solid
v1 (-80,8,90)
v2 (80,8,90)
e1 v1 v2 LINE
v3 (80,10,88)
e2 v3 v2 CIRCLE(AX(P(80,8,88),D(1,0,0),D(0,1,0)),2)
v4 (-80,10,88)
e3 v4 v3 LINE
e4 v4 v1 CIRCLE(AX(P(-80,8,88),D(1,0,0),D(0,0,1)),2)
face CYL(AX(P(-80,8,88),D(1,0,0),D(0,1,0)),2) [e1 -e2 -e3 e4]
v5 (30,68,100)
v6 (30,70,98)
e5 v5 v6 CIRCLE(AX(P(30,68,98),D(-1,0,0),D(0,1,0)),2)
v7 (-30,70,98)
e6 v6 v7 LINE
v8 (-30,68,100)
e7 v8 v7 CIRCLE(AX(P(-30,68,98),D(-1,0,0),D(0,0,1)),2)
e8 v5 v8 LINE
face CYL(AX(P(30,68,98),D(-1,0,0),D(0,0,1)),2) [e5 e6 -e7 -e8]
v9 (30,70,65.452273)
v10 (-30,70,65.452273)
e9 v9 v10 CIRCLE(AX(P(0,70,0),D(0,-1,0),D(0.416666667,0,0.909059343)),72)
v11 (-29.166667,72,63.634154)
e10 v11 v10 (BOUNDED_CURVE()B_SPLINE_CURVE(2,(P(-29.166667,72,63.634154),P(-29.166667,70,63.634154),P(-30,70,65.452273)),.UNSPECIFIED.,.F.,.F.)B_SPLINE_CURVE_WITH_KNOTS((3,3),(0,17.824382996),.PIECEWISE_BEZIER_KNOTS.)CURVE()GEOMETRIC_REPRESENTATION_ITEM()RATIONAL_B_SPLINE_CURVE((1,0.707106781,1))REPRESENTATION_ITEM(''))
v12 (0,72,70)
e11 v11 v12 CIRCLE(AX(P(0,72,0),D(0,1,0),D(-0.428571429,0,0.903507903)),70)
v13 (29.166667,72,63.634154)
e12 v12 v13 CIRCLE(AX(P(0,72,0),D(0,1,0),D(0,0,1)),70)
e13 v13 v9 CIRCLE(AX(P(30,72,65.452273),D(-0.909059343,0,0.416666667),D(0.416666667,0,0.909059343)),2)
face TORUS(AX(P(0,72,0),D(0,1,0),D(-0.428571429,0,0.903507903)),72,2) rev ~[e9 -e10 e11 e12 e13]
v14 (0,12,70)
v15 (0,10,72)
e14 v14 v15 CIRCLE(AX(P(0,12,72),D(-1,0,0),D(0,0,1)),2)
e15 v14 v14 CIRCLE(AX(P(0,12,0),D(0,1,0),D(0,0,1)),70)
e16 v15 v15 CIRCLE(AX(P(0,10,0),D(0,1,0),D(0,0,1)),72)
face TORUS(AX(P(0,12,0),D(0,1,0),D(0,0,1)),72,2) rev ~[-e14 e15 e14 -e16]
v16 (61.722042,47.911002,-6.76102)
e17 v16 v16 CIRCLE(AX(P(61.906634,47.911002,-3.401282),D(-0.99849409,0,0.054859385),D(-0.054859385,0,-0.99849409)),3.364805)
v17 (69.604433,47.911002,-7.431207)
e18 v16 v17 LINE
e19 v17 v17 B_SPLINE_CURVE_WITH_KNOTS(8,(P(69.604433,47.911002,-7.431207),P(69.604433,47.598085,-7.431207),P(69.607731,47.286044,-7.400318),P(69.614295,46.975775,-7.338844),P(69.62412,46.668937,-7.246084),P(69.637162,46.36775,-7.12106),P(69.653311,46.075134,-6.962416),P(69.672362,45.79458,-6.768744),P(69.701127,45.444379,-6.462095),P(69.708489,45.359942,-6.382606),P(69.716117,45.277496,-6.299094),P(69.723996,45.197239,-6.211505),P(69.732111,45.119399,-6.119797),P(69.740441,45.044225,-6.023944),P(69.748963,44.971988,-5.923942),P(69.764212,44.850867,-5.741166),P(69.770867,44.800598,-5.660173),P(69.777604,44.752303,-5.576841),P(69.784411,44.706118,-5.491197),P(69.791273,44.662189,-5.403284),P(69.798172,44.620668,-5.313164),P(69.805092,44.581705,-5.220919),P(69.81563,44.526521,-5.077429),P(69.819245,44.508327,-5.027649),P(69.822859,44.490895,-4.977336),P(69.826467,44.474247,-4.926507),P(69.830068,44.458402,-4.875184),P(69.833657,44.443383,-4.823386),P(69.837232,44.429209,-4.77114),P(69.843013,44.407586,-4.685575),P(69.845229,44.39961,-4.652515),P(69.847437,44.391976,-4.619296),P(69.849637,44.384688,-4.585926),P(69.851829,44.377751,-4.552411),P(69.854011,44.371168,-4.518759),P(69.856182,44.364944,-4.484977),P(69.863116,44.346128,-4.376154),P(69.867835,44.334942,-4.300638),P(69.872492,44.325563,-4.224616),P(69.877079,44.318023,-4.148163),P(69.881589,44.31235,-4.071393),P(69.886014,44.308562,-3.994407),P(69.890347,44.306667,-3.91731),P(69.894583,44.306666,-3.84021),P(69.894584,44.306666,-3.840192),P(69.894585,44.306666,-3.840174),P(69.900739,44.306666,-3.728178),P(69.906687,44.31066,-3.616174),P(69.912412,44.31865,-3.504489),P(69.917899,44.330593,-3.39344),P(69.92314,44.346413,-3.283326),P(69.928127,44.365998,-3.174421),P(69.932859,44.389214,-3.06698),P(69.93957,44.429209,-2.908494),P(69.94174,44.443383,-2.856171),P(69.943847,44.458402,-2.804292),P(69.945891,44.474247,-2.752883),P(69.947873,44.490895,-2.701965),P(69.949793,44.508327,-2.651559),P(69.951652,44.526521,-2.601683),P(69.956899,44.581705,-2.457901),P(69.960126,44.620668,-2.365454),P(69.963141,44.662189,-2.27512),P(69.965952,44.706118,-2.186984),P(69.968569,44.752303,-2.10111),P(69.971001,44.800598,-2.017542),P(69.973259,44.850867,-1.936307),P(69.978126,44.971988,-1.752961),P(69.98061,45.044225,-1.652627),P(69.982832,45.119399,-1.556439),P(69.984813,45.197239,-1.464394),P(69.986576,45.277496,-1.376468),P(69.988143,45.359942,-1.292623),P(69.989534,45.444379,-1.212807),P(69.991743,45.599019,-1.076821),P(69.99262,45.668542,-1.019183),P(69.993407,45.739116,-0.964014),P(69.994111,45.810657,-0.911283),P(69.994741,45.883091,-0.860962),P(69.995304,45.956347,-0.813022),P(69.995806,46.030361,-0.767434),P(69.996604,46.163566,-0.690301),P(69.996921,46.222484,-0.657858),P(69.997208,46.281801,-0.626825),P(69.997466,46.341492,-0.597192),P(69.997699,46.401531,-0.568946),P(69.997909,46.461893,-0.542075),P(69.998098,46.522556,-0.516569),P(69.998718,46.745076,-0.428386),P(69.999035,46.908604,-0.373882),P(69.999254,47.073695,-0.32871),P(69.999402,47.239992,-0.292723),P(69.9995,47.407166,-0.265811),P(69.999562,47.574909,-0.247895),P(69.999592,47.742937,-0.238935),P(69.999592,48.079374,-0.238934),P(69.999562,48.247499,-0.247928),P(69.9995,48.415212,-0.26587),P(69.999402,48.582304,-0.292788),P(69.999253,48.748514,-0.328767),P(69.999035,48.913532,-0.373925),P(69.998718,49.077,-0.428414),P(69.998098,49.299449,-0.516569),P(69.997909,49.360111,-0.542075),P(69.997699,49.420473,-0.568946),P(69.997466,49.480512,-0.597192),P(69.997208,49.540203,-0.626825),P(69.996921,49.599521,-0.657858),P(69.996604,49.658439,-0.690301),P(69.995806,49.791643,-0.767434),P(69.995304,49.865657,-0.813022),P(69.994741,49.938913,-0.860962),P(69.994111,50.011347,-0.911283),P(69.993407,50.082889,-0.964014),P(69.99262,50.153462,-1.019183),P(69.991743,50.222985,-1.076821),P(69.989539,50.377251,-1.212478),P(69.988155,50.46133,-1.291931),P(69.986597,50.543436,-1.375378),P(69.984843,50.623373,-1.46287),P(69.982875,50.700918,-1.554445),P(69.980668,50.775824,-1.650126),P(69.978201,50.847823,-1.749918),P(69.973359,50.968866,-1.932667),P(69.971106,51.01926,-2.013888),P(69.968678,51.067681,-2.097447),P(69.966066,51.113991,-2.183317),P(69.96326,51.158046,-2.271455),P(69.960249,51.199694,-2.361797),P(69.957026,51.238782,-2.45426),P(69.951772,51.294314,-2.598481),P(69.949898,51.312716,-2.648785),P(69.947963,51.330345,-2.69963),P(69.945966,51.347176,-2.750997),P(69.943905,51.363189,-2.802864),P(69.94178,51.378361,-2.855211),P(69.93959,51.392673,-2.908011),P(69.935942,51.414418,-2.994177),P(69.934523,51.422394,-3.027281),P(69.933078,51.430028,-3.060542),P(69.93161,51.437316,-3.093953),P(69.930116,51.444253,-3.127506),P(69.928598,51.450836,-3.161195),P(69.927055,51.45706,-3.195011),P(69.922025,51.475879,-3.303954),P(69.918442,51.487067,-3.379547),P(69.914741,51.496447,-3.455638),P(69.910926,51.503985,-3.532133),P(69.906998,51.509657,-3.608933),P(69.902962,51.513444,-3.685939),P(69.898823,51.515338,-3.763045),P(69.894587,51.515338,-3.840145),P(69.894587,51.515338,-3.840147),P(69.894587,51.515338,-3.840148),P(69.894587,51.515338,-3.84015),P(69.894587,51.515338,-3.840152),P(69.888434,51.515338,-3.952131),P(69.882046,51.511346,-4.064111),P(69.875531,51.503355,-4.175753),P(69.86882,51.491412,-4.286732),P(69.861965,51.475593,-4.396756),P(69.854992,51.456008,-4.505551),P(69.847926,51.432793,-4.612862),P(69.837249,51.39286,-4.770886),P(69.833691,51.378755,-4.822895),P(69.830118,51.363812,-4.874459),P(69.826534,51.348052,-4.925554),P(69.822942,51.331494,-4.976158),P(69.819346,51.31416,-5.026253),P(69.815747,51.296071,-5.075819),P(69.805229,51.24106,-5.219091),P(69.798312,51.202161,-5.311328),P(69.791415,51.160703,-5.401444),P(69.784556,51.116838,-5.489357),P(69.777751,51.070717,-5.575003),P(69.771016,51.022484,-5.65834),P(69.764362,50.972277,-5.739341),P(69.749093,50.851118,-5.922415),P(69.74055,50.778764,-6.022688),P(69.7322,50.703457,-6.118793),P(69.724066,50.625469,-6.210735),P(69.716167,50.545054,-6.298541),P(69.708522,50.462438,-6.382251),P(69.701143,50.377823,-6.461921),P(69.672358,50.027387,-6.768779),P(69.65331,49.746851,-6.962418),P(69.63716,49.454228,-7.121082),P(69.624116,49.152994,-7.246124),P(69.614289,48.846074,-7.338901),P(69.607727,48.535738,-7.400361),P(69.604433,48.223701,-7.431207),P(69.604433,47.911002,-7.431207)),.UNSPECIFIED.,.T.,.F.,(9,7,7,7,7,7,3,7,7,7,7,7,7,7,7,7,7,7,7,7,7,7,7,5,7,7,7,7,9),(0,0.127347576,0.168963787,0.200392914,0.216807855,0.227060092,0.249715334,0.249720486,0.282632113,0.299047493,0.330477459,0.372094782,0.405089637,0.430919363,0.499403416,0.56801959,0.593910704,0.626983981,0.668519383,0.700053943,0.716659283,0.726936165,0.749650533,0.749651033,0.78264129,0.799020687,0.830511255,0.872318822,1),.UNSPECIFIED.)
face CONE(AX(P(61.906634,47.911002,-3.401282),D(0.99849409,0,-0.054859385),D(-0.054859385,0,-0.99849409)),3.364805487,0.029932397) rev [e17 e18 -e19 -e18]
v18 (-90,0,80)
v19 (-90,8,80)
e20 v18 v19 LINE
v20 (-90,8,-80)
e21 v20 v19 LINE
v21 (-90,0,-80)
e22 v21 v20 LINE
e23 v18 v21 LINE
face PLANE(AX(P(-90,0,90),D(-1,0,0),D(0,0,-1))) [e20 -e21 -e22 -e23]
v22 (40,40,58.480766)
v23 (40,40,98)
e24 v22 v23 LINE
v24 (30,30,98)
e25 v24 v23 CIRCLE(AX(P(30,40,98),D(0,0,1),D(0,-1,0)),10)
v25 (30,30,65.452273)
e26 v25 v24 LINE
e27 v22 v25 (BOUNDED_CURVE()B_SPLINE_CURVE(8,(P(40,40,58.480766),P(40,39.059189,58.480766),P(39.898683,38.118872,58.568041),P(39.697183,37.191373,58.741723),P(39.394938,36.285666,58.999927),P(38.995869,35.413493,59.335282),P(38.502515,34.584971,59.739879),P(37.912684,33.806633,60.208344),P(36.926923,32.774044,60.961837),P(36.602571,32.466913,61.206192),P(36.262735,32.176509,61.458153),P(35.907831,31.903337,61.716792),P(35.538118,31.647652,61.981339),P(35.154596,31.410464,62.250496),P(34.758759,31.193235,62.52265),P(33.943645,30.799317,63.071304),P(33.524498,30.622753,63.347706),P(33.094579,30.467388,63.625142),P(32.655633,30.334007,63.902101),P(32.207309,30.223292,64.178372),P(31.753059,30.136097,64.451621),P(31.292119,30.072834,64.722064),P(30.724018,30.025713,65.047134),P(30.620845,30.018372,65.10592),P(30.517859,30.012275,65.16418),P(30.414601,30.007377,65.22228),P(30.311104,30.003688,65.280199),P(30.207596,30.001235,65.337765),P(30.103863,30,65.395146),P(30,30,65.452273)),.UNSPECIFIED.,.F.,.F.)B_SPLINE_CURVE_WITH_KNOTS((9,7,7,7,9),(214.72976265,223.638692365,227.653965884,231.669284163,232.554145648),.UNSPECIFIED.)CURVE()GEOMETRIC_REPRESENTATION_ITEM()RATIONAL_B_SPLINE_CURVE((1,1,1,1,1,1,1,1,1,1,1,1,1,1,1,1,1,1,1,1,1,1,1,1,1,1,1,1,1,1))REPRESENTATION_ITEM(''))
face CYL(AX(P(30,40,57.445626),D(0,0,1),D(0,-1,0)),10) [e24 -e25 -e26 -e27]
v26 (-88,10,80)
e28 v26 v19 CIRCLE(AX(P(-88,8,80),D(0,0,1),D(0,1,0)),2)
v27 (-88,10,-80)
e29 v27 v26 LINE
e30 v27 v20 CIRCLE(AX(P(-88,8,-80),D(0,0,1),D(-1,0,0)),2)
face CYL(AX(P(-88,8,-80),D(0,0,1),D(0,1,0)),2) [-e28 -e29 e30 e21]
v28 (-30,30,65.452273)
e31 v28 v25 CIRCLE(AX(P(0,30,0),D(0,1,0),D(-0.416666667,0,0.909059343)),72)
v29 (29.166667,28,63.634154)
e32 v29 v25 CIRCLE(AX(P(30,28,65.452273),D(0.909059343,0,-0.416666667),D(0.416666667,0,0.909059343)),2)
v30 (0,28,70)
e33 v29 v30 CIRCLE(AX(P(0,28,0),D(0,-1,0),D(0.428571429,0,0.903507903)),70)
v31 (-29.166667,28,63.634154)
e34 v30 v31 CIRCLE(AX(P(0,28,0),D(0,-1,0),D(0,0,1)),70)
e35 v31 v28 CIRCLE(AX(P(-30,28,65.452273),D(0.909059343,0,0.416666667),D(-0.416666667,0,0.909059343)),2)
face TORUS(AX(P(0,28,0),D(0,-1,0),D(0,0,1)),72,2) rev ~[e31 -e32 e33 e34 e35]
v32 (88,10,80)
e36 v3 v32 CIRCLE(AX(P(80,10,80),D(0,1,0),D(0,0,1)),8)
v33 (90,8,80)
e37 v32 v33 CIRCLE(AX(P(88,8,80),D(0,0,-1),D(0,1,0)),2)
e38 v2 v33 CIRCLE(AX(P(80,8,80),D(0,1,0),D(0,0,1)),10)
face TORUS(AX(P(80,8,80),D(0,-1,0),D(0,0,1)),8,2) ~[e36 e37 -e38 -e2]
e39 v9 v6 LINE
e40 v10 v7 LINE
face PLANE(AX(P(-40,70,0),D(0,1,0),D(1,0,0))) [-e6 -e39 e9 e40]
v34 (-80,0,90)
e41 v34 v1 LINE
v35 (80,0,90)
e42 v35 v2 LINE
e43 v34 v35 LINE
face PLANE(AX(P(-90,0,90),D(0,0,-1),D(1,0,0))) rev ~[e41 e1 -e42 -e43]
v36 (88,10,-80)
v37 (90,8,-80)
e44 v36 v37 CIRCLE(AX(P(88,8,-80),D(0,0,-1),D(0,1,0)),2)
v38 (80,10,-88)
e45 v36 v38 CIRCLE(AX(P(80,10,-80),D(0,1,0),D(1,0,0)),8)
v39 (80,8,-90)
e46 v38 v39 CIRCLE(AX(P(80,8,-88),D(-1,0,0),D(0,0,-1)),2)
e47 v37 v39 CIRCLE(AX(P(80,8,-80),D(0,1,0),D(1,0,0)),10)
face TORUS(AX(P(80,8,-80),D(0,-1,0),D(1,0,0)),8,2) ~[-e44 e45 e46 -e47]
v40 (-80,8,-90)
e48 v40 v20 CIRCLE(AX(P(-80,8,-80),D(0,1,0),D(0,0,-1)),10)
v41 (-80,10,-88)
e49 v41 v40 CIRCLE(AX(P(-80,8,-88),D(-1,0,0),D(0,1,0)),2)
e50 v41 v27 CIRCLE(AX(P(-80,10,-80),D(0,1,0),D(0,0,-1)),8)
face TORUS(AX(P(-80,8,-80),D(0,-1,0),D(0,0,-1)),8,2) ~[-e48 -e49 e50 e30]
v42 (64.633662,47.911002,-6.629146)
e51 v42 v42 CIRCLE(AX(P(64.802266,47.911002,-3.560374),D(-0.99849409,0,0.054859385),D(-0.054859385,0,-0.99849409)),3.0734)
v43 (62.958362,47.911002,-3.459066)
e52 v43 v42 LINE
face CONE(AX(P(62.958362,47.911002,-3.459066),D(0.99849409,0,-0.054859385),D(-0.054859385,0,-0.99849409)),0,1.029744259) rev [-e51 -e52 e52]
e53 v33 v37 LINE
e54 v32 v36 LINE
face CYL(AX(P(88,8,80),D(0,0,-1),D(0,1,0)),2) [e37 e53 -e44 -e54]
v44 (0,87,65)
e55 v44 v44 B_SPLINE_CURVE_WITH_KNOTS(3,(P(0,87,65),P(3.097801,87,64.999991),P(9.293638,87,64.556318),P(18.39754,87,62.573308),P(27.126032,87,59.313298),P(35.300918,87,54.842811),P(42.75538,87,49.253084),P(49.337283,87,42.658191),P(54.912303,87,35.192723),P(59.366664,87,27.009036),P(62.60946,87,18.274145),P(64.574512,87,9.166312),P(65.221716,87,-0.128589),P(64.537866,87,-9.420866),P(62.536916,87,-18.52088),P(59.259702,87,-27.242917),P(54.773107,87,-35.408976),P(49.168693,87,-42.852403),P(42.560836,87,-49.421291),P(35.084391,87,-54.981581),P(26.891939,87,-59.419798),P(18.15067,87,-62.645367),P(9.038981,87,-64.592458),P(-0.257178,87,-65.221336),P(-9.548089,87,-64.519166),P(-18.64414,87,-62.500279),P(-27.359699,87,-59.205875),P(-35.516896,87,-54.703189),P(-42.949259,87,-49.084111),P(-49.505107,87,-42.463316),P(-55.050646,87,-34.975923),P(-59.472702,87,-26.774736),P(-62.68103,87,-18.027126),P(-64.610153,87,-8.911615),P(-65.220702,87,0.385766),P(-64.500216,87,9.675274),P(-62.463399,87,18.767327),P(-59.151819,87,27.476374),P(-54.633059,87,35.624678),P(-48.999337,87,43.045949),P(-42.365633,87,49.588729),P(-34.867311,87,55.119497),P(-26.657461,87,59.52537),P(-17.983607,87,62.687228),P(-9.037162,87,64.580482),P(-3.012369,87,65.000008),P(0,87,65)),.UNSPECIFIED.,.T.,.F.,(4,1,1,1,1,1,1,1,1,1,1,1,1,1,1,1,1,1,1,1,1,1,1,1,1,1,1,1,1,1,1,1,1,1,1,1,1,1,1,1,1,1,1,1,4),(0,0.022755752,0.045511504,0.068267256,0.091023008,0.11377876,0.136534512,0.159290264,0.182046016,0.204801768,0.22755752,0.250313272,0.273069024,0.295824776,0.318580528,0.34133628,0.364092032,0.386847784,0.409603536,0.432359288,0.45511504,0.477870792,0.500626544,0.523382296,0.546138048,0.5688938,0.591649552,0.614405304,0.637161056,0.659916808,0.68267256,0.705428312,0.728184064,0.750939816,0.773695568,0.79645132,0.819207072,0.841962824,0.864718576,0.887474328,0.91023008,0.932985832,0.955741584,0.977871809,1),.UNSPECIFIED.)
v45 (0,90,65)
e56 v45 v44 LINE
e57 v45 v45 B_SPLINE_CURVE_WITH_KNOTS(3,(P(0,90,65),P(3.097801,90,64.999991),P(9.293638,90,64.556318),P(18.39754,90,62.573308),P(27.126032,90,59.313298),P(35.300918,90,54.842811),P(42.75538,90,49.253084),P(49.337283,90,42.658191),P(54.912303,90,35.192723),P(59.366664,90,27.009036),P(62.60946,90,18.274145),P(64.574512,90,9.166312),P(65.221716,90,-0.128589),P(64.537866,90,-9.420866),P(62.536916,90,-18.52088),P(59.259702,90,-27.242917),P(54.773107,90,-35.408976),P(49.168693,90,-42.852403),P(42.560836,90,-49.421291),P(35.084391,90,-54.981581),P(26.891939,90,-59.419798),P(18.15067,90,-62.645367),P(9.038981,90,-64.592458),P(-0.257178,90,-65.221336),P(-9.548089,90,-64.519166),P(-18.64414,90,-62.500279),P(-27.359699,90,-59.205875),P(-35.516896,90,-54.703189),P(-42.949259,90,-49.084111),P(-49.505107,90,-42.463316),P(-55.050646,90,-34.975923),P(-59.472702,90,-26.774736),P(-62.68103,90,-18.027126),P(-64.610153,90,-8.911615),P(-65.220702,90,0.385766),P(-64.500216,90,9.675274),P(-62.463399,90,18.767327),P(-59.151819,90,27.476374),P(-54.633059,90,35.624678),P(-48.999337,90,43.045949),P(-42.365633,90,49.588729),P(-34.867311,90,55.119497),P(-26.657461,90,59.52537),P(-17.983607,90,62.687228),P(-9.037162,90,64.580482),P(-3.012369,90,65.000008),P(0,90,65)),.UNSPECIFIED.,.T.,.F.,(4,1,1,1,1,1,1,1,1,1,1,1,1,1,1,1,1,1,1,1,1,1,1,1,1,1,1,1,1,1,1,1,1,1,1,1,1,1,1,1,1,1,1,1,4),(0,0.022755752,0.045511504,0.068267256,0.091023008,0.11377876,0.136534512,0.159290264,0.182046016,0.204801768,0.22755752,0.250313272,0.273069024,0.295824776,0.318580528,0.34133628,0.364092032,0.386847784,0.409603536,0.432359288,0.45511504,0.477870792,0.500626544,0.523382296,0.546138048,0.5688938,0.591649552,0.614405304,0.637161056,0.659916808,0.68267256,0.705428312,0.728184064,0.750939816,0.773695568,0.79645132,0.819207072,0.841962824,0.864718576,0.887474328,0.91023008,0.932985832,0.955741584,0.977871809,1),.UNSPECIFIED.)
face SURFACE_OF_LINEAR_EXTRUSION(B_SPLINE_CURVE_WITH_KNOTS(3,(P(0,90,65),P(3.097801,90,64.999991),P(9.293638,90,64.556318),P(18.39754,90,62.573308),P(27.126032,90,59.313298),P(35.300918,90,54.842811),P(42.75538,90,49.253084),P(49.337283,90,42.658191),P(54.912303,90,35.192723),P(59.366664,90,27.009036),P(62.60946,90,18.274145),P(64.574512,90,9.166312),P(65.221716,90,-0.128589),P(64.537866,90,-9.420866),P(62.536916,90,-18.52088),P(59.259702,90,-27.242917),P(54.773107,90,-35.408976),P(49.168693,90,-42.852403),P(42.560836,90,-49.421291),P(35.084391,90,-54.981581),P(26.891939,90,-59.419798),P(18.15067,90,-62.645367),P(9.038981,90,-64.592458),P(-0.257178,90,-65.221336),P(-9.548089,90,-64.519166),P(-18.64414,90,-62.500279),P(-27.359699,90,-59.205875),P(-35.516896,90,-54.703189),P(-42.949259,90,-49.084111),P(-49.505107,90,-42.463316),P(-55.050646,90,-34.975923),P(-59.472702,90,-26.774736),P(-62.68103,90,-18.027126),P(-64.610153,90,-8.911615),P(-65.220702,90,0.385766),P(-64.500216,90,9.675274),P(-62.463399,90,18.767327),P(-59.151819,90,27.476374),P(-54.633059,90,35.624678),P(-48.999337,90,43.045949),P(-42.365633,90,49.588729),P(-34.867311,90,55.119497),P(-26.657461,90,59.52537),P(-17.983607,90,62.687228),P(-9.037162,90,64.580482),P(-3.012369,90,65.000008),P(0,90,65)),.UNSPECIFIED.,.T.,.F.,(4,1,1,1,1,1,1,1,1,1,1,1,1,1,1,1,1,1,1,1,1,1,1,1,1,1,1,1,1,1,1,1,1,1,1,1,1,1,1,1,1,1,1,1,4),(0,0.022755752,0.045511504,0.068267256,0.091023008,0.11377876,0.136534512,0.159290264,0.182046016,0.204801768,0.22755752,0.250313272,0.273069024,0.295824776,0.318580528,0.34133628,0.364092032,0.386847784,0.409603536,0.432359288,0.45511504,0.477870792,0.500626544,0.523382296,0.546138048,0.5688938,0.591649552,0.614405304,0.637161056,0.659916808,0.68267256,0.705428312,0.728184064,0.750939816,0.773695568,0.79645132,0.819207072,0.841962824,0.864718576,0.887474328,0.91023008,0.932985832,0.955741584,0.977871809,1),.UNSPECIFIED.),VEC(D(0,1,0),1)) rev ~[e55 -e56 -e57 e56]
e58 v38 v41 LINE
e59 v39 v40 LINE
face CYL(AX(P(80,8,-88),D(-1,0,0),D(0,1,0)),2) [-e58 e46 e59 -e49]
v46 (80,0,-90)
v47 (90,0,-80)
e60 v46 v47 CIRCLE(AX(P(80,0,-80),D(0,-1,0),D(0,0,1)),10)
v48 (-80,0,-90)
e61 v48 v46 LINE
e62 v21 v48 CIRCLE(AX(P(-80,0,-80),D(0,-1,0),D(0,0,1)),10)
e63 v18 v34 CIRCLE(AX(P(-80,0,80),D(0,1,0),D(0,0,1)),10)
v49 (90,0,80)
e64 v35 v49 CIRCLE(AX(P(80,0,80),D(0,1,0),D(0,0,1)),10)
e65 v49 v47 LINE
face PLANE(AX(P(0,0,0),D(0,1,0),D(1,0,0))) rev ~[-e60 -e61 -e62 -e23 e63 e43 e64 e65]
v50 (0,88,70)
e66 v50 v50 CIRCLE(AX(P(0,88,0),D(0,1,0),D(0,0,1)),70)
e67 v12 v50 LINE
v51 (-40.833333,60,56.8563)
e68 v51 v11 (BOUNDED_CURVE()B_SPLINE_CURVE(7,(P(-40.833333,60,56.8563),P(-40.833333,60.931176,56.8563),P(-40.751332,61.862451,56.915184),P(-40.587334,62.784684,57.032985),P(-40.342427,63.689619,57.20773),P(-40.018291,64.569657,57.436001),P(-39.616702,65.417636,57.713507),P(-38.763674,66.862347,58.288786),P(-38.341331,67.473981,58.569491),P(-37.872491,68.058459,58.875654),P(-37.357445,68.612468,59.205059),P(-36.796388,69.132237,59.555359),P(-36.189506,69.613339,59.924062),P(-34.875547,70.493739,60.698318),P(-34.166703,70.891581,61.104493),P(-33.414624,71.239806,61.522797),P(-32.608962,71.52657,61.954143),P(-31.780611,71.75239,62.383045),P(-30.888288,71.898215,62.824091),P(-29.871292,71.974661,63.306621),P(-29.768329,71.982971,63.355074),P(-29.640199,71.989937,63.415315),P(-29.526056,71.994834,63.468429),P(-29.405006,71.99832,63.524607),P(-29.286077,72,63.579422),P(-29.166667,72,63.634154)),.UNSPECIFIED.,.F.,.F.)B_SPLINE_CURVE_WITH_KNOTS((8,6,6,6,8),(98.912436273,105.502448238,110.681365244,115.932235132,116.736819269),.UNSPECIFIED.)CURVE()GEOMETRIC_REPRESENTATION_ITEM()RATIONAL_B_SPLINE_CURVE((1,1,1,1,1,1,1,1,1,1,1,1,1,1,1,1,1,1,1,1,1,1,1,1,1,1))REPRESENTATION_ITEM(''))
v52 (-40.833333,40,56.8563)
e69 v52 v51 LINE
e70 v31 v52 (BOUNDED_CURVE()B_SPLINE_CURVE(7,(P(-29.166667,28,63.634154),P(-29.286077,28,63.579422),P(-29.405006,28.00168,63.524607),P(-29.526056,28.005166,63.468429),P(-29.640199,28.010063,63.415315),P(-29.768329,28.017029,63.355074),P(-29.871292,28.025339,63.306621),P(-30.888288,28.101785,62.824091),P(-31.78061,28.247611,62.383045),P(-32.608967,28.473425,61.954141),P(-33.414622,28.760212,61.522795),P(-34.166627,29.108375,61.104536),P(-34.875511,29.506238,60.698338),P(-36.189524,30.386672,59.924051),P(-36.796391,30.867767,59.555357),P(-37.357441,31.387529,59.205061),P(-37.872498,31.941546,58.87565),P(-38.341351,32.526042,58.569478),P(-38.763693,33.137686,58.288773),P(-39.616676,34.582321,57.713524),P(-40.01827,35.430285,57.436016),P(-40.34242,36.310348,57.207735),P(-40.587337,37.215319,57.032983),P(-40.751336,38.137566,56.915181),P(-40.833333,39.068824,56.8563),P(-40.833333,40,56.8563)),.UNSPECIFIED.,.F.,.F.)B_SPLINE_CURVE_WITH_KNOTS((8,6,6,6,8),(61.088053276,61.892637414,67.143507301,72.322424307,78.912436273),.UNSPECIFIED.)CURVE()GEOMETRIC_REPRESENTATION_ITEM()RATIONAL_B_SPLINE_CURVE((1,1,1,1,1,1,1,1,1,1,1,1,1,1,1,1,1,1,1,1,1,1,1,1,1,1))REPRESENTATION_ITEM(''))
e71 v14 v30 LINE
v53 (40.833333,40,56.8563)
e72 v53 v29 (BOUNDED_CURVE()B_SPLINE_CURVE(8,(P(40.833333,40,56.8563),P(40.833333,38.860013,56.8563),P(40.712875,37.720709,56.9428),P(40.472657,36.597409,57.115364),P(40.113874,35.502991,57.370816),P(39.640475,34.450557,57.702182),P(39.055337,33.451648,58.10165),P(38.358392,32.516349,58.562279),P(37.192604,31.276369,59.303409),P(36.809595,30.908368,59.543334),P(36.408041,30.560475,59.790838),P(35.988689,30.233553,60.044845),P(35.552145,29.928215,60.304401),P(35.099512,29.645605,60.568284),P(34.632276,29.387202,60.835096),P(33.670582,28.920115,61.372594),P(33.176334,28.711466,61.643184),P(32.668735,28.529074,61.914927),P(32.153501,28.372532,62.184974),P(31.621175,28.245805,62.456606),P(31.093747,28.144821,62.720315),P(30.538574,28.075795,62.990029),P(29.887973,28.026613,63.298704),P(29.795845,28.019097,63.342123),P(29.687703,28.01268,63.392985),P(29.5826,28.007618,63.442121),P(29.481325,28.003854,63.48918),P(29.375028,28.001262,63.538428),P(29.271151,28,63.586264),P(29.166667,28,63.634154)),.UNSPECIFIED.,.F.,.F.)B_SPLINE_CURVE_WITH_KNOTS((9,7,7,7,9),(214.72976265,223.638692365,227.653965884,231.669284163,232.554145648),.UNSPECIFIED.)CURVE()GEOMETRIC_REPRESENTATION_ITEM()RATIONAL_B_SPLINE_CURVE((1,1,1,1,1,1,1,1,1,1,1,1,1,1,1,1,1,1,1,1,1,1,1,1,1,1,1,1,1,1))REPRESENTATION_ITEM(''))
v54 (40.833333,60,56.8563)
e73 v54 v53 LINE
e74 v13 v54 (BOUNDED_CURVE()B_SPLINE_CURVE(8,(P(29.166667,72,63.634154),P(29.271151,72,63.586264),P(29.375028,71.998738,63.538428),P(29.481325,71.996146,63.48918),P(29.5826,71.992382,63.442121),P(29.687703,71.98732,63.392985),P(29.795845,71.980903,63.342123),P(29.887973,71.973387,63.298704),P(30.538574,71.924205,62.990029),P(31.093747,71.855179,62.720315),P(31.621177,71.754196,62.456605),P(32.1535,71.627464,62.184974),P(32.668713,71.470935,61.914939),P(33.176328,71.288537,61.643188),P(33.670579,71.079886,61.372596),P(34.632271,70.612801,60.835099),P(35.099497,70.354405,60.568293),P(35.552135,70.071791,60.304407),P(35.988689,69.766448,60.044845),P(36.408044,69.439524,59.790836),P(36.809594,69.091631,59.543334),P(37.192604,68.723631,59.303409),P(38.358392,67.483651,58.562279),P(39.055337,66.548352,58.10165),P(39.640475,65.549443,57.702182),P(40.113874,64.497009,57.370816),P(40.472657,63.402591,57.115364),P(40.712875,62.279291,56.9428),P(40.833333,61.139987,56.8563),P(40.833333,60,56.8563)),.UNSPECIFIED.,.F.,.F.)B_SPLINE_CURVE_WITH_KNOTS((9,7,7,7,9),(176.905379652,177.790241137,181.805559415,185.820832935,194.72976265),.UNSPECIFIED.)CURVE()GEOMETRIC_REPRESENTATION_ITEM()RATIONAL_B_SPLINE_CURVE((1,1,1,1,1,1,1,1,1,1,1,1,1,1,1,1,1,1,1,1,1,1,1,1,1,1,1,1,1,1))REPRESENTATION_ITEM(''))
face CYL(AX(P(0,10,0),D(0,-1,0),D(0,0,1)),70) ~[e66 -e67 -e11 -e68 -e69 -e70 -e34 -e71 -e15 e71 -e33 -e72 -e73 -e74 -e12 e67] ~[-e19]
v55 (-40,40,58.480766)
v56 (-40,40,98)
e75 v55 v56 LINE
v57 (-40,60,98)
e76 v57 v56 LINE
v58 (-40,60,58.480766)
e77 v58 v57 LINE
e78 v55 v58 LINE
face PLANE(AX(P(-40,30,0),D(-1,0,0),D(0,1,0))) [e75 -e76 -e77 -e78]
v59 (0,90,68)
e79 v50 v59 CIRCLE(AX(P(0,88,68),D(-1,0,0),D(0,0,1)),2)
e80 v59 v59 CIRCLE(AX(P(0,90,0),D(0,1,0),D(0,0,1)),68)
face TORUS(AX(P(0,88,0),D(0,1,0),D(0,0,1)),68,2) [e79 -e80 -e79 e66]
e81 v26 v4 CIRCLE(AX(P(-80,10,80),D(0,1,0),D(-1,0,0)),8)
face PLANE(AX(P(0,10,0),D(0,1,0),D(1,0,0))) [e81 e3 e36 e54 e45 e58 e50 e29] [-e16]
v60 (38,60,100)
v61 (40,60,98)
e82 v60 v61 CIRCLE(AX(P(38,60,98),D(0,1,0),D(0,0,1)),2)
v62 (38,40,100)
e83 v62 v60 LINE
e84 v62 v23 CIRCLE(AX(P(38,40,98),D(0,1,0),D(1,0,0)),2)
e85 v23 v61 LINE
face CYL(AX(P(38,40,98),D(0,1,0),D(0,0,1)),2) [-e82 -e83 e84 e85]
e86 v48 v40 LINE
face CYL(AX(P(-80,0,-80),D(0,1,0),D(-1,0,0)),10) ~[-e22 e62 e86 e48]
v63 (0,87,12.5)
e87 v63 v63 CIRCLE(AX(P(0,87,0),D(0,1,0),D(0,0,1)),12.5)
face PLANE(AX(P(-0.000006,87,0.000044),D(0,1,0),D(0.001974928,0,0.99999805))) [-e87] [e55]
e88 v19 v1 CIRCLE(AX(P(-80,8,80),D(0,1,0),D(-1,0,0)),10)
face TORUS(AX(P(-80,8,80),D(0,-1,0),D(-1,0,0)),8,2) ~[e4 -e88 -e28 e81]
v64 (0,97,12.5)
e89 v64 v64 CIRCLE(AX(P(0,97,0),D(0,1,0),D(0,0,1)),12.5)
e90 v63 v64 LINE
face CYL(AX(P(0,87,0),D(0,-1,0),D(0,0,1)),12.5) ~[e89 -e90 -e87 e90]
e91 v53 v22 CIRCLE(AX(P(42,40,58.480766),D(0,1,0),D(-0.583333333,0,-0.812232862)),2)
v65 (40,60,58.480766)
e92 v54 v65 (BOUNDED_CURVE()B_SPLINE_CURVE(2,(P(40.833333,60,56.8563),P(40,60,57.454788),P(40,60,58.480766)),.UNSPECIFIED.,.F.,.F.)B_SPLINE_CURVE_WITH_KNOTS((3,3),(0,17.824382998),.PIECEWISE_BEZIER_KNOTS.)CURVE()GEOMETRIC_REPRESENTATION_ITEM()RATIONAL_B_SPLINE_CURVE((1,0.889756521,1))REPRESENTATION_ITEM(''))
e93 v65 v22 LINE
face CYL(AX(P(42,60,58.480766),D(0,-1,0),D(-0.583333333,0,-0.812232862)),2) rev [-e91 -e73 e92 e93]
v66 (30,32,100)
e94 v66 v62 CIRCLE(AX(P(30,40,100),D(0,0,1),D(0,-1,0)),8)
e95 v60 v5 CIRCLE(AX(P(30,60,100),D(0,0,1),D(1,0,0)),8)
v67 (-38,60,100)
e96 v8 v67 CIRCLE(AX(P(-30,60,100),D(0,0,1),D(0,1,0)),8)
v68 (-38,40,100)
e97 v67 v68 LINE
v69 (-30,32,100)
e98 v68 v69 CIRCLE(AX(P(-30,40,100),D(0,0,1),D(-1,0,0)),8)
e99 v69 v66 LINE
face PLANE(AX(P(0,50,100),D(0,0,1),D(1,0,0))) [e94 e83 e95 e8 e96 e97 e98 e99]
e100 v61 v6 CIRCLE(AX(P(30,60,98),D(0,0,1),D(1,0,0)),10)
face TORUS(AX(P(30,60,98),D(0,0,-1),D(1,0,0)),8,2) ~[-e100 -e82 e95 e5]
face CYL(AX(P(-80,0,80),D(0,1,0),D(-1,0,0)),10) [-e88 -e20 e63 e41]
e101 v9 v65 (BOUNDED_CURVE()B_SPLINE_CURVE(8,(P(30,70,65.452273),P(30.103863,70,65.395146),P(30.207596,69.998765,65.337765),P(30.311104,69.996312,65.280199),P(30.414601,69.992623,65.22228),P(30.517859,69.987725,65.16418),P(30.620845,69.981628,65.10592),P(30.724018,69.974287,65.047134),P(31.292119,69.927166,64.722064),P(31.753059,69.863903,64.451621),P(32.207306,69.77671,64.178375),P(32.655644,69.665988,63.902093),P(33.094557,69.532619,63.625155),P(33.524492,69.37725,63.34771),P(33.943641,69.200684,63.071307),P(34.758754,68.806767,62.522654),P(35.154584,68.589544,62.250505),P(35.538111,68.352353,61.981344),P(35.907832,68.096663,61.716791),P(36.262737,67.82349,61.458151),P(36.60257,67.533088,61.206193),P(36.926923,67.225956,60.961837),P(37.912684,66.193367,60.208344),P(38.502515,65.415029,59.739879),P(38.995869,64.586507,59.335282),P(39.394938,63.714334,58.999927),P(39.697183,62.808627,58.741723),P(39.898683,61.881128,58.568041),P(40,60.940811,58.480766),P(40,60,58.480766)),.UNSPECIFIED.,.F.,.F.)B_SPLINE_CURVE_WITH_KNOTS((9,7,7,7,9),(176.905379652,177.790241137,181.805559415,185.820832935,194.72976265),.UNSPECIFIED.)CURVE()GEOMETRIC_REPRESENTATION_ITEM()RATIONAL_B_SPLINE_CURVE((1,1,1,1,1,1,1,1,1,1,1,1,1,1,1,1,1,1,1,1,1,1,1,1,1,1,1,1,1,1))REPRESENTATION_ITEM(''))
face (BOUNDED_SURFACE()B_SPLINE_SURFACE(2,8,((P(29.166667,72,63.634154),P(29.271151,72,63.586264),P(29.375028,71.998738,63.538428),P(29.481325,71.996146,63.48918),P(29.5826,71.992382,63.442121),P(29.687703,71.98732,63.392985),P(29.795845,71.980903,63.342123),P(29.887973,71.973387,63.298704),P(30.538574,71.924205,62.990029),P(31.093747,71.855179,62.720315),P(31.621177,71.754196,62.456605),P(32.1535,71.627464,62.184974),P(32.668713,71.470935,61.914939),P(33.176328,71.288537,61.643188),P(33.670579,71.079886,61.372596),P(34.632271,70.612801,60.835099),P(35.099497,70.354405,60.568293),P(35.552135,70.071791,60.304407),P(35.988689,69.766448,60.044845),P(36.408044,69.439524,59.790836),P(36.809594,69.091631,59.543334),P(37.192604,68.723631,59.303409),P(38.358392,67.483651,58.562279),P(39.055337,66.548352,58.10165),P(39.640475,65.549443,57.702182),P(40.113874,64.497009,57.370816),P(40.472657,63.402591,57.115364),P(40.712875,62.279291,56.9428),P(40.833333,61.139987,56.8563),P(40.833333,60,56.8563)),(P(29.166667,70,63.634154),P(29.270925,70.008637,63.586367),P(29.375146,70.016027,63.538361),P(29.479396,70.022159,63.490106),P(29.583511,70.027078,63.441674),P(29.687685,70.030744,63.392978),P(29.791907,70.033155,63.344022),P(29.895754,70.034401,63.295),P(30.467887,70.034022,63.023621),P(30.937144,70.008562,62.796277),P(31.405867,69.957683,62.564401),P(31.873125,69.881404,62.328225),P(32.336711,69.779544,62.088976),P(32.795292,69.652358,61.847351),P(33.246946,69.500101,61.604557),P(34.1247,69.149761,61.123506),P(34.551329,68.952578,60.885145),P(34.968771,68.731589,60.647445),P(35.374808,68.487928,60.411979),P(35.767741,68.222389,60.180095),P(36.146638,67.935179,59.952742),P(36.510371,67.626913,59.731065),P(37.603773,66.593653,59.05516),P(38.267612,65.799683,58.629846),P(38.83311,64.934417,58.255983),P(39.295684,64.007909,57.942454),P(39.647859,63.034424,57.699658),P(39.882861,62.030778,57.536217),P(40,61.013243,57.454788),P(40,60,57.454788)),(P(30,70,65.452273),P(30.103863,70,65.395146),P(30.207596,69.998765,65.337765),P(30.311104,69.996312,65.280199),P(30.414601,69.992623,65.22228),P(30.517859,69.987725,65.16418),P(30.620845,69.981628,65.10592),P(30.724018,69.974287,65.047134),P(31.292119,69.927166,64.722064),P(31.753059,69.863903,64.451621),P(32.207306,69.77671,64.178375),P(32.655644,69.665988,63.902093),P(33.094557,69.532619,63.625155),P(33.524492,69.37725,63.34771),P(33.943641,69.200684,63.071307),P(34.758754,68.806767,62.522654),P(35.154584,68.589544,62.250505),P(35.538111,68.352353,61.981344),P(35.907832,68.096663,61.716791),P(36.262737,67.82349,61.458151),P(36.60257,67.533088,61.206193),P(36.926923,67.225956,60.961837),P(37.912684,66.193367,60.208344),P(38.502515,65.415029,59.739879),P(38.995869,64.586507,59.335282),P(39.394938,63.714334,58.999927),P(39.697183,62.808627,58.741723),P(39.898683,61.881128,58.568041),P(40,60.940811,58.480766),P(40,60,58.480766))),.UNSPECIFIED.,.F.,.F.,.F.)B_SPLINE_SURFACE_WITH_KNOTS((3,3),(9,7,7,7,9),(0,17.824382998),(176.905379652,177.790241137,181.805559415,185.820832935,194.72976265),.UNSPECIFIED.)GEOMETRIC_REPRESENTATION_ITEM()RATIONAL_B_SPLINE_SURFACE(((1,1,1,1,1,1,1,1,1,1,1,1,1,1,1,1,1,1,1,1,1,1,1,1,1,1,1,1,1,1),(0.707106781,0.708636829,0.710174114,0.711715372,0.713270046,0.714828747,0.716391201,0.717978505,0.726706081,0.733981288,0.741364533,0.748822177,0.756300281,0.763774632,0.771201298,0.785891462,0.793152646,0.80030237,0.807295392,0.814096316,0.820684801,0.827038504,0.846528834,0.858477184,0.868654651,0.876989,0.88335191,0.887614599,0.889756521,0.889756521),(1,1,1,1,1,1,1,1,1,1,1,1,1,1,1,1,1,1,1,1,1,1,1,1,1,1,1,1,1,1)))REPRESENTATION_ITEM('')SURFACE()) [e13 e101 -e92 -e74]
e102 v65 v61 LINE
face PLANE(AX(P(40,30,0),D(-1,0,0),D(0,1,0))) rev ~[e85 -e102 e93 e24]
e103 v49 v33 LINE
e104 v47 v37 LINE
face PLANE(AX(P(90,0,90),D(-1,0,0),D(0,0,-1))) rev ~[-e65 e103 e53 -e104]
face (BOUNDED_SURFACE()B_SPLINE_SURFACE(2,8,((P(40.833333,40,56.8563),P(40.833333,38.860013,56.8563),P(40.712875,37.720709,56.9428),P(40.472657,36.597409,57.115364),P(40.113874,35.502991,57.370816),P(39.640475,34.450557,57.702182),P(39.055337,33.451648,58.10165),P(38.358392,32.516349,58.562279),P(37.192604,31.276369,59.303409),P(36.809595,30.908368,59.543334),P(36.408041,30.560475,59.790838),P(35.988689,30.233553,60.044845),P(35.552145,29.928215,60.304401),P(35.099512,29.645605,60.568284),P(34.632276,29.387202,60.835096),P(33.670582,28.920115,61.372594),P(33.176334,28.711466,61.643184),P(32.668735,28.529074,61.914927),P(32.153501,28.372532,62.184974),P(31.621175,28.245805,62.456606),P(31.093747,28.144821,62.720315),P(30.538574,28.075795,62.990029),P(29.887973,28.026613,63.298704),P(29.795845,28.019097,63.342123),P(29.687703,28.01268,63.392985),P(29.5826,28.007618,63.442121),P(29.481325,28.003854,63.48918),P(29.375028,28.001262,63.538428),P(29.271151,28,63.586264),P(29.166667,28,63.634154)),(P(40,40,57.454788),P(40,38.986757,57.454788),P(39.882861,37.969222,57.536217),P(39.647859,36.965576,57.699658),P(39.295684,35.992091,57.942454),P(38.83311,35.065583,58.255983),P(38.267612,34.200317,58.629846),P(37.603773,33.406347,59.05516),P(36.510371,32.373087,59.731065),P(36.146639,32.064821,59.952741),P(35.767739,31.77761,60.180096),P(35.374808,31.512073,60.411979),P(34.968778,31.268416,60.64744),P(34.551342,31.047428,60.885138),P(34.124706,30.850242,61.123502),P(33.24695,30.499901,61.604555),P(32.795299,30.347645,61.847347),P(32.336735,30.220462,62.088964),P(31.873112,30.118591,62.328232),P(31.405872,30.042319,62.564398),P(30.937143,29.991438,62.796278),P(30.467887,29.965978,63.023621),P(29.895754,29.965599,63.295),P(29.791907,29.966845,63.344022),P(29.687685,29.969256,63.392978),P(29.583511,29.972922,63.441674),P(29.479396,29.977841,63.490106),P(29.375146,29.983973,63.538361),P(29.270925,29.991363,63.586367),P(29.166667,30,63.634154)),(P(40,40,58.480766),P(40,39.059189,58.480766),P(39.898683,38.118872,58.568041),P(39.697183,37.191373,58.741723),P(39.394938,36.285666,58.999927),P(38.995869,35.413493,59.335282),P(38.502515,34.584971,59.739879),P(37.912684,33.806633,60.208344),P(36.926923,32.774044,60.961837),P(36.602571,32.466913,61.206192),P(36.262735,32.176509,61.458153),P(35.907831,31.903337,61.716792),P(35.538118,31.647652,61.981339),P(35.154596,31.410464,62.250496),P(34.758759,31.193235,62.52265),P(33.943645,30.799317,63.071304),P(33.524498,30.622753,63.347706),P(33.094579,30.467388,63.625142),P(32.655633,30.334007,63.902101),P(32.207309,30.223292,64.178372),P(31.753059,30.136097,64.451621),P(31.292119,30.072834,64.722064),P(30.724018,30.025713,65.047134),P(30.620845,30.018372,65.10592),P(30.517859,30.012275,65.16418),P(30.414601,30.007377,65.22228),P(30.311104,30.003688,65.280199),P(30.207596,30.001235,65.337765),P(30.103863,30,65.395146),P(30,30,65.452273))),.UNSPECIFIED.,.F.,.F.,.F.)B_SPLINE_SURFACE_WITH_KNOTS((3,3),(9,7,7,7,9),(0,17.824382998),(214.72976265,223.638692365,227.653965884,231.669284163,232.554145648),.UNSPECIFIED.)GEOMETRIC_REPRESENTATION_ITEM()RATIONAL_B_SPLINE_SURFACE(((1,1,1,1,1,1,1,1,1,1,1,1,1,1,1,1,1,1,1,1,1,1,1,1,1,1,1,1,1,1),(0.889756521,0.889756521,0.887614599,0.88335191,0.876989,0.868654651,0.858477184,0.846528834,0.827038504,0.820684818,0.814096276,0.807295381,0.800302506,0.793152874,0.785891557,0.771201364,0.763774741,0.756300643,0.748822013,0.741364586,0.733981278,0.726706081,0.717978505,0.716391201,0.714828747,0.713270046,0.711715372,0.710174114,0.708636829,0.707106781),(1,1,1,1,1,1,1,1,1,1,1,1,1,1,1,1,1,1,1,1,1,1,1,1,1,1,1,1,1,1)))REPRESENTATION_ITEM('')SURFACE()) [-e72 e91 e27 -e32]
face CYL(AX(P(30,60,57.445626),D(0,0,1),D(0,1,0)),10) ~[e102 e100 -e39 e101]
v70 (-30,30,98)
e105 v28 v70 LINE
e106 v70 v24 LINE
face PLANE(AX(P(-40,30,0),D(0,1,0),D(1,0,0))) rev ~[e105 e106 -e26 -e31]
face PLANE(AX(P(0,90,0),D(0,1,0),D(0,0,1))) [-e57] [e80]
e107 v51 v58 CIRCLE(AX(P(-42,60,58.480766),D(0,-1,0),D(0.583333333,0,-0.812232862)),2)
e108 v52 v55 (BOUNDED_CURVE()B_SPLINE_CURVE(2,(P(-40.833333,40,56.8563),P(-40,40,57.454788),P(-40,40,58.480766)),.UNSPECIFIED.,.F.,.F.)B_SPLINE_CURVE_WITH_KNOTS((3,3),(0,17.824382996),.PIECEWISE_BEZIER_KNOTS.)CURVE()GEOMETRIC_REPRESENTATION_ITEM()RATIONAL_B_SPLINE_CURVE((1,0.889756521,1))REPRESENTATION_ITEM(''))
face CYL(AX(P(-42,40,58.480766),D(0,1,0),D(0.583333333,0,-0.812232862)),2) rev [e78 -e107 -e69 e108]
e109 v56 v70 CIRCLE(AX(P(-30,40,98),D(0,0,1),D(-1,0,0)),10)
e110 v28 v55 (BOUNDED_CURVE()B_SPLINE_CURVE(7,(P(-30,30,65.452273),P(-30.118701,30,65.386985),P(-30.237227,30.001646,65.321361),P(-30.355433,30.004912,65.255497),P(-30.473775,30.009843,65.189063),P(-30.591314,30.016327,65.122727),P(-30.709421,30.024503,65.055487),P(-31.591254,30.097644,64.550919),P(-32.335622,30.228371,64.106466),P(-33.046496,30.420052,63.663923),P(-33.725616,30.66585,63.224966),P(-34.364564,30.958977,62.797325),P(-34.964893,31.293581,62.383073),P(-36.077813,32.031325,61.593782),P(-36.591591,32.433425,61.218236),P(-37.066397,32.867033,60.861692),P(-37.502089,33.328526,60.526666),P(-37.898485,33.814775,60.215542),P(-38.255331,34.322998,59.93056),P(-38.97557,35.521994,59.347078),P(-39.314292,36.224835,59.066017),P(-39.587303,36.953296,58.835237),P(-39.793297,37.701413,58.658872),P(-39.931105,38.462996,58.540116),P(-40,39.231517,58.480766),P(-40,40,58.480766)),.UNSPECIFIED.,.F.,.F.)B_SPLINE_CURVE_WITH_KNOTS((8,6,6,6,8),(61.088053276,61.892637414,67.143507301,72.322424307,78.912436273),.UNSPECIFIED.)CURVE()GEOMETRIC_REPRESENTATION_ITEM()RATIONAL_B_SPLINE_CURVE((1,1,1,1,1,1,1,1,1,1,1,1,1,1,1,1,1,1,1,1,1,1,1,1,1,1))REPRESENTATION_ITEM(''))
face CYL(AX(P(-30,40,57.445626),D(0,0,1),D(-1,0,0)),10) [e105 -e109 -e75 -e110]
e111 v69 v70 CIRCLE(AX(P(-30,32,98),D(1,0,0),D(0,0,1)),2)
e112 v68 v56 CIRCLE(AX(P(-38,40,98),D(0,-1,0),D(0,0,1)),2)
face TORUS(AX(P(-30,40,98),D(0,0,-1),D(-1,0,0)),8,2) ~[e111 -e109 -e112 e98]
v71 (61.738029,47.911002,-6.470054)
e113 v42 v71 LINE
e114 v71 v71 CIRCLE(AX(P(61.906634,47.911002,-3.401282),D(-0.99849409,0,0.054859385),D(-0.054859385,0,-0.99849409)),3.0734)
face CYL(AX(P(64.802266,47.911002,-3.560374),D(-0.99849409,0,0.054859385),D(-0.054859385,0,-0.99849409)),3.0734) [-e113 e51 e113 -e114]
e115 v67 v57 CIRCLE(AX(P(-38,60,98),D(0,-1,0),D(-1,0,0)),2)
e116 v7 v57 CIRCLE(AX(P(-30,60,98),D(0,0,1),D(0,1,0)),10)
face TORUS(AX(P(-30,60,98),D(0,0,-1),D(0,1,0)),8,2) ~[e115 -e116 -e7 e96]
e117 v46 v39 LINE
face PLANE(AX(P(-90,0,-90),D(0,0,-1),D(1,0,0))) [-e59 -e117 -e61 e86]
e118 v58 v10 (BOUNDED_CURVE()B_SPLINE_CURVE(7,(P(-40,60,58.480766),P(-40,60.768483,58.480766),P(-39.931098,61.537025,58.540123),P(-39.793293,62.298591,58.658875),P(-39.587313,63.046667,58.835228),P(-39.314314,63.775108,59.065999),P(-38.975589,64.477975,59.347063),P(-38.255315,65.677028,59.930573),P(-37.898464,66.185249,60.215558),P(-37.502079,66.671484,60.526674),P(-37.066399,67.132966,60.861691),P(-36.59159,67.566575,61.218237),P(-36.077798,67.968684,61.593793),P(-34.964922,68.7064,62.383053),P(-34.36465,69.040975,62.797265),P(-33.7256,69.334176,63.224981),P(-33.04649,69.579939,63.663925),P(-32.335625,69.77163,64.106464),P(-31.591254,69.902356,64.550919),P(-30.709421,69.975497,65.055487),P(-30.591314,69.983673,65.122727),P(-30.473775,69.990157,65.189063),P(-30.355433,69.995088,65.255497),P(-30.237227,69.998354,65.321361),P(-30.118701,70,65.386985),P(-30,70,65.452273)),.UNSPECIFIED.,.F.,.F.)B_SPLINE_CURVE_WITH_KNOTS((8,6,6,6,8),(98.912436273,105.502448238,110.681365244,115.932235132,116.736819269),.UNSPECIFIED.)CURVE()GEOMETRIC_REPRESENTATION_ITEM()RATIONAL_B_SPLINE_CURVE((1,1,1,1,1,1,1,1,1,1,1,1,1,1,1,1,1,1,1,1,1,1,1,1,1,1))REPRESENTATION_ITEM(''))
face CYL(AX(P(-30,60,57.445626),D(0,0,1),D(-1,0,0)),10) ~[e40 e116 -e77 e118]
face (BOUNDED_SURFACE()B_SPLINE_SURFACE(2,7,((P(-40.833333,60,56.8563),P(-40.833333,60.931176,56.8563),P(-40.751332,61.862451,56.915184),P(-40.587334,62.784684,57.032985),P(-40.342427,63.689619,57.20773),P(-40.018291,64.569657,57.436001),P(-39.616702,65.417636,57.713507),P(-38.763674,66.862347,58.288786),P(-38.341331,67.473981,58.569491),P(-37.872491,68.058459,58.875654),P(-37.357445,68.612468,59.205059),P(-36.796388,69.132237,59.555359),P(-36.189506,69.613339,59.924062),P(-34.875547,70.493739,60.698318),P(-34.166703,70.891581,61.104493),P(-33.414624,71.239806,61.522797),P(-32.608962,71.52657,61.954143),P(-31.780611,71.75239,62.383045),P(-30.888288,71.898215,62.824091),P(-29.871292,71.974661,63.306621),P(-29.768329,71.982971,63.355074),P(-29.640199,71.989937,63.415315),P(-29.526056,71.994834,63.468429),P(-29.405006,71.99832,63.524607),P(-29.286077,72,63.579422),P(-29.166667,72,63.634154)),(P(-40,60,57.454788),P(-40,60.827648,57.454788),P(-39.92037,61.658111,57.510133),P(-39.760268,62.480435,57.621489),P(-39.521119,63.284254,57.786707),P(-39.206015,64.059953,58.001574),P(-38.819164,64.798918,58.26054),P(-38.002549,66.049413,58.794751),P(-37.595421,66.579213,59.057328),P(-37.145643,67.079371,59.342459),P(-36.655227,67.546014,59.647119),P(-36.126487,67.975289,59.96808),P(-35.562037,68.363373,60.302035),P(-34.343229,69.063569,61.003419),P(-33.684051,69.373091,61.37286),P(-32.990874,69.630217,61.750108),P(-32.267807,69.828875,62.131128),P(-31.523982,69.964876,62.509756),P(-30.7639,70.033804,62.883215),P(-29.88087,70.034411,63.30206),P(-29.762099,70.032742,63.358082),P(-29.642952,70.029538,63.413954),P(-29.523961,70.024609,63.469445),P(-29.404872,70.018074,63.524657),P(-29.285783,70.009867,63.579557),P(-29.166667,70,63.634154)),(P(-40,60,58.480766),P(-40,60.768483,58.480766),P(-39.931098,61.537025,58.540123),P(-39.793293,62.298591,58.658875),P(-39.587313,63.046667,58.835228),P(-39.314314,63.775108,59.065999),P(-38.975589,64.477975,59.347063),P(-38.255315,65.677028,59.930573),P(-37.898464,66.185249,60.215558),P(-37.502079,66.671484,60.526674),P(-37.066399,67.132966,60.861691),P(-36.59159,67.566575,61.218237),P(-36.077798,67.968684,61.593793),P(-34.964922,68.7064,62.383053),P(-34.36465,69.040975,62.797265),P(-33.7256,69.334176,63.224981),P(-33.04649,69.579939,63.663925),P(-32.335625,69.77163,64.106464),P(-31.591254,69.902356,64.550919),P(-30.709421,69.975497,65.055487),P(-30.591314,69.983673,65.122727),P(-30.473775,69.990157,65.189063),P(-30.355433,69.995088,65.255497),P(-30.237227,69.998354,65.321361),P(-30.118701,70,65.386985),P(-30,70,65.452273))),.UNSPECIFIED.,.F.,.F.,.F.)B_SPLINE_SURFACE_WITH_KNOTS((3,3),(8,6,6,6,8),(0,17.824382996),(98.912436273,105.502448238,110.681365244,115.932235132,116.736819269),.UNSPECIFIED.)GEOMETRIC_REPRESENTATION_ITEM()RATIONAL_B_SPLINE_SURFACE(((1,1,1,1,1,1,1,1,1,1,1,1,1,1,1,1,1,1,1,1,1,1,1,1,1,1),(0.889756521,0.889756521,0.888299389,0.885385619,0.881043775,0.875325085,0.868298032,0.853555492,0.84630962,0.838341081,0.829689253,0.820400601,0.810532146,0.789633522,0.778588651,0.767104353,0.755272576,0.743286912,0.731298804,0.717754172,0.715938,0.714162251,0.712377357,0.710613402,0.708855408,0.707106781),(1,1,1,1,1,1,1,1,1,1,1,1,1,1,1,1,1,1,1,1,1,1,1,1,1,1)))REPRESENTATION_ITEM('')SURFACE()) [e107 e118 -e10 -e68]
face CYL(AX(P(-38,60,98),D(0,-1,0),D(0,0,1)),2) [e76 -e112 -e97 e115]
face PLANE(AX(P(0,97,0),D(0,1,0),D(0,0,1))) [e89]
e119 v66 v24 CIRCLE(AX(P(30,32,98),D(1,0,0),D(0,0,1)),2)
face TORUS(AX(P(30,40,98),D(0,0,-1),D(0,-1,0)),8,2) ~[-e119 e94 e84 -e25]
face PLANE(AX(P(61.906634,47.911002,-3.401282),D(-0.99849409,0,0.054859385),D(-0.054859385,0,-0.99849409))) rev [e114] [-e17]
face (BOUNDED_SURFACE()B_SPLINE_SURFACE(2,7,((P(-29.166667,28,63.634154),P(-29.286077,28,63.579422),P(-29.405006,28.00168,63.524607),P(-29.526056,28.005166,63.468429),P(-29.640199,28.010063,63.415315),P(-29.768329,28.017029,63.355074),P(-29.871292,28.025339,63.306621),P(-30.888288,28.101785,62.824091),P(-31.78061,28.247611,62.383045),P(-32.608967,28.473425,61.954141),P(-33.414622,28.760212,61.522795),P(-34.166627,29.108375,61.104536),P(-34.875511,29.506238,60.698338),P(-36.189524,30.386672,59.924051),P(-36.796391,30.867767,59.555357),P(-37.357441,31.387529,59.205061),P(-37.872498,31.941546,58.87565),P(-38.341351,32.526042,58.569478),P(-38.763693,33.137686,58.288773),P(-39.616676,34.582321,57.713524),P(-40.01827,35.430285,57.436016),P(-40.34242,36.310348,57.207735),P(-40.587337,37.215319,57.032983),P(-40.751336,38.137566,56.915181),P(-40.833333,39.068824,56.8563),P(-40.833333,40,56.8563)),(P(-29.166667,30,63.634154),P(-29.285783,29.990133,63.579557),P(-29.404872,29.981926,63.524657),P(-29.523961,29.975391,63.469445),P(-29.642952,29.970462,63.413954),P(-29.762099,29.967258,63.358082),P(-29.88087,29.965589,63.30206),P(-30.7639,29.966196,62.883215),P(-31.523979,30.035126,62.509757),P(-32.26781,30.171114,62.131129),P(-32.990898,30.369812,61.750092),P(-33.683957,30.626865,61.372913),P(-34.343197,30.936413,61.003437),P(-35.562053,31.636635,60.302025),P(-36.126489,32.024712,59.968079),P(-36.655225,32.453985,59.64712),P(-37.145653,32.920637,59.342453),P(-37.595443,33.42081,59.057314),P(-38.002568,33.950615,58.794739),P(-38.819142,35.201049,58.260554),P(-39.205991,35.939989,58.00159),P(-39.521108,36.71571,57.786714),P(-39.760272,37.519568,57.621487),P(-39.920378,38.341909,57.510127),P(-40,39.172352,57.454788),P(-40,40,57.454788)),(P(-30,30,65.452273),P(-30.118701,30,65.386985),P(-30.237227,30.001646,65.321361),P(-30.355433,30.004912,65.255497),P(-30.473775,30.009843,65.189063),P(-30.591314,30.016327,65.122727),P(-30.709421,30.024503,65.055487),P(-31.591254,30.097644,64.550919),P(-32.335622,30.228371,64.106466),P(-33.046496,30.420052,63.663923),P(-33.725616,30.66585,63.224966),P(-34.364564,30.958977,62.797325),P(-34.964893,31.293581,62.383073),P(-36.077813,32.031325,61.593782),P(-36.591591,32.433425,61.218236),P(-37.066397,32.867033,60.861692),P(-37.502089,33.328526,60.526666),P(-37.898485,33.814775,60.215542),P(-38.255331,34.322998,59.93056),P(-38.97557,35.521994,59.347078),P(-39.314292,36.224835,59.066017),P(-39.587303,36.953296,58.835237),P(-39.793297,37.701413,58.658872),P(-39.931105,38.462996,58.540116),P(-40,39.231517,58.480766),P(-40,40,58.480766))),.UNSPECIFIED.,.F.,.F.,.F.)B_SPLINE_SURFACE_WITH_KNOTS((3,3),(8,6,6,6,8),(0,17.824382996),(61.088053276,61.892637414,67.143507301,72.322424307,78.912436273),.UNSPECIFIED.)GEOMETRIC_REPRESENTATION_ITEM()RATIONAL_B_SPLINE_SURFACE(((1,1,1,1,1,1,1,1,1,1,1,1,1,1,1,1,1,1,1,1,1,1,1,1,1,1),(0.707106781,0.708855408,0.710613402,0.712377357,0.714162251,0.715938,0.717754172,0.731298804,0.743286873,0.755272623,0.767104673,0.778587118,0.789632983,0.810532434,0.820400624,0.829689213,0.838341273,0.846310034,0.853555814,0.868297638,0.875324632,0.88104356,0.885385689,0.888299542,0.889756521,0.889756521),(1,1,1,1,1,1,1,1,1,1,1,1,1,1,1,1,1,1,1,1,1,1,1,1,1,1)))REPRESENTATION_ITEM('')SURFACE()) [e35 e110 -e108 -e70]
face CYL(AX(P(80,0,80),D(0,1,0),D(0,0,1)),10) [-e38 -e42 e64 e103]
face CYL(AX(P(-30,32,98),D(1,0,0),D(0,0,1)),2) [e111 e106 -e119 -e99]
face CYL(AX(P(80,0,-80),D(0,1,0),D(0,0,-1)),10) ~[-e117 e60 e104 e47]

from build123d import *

# Parameters (mm, degrees)
SKETCH1_W           = 180
SKETCH1_H           = 180
BOSS_EXTRUDE1_DEPTH = 10
SKETCH2_R           = 70
BOSS_EXTRUDE2_DEPTH = 80
SKETCH3_W           = 80
SKETCH3_H           = 40
BOSS_EXTRUDE3_DEPTH = 100
CUT_EXTRUDE1_DEPTH  = 3
FILLET1_R           = 10
FILLET2_R           = 2
SKETCH7_R           = 12.5
BOSS_EXTRUDE4_DEPTH = 10


with BuildPart() as part:
    # Sketch1 → Boss-Extrude1 (new body)
    with BuildSketch(Plane(origin=(0, 0, 0), x_dir=(1, 0, 0), z_dir=(0, 1, 0))):
        Rectangle(SKETCH1_W, SKETCH1_H)
    extrude(amount=BOSS_EXTRUDE1_DEPTH)

    # Sketch2 → Boss-Extrude2 (add)
    with BuildSketch(Plane(origin=(0, 10, 0), x_dir=(1, 0, 0), z_dir=(0, 1, 0))):
        with Locations(Location((0, 0, 0), (0, 0, 270))):
            Circle(SKETCH2_R)
    extrude(amount=BOSS_EXTRUDE2_DEPTH)

    # Sketch3 → Boss-Extrude3 (add)
    with BuildSketch(Plane.XY):
        with Locations((0, 50)):
            Rectangle(SKETCH3_W, SKETCH3_H)
    extrude(amount=BOSS_EXTRUDE3_DEPTH)

    # 3DSketch1 → Cut-Extrude1 (cut)
    with BuildSketch(Plane(origin=(0, 90, 65), x_dir=(-0.0019749281305752333, 0, -0.999998049827538), z_dir=(0, -1, 0))):
        with BuildLine():
            add(Edge.make_bspline(
                [(0, 0), (-0.006109401, 3.09779494), (0.425326913, 9.294496524), (2.390353323, 18.402296473), (5.633118591, 27.137209697), (10.087452008, 35.320908574), (15.66244662, 42.786396013), (22.244327614, 49.381310528), (29.698770729, 54.971063258), (37.873644518, 59.441577287), (46.602114808, 62.701617724), (55.706049557, 64.684653106), (64.999654176, 65.350213332), (74.293263267, 64.684715536), (83.397211336, 62.701741308), (92.125703526, 59.441759508), (100.300607343, 54.971300379), (107.755088014, 49.381597779), (114.337013282, 42.786727272), (119.912058141, 35.321278051), (124.366446166, 27.137606225), (127.609271477, 18.402725502), (129.574353967, 9.294898755), (130.221589912, 0), (129.537770415, -9.292278953), (127.536850975, -18.392299757), (124.259666683, -27.114347702), (119.773098852, -35.28042181), (114.16871009, -42.723867507), (107.560875677, -49.292777738), (100.084449379, -54.85309311), (91.892011322, -59.2913378), (83.150754121, -62.516935385), (74.039070779, -64.464057343), (64.742914019, -65.092966493), (55.452001323, -64.390827948), (46.355943159, -62.371971089), (37.640373353, -59.077596989), (29.483160728, -54.5749381), (22.05077882, -48.955884198), (15.494909607, -42.33511441), (9.949343668, -34.84772948), (5.527265783, -26.646596653), (2.348283357, -17.979003931), (0.437364749, -9.036316199), (0.005940915, -3.012363496), (0, 0)],
                knots=[0, 0, 0, 0, 0.022755752, 0.045511504, 0.068267256, 0.091023008, 0.11377876, 0.136534512, 0.159290264, 0.182046016, 0.204801768, 0.22755752, 0.250313272, 0.273069024, 0.295824776, 0.318580528, 0.34133628, 0.364092032, 0.386847784, 0.409603536, 0.432359288, 0.45511504, 0.477870792, 0.500626544, 0.523382296, 0.546138048, 0.5688938, 0.591649552, 0.614405304, 0.637161056, 0.659916808, 0.68267256, 0.705428312, 0.728184064, 0.750939816, 0.773695568, 0.79645132, 0.819207072, 0.841962824, 0.864718576, 0.887474328, 0.91023008, 0.932985832, 0.955741584, 0.977871809, 1, 1, 1, 1], degree=3))
        make_face()
    extrude(amount=CUT_EXTRUDE1_DEPTH, mode=Mode.SUBTRACT)

    # Fillet1
    fillet1_edges = [part.edges().sort_by_distance(p)[0] for p in [
        (-40, 70, 78.722813233),
        (40, 30, 78.722813233),
        (-40, 30, 78.722813233),
        (40, 70, 78.722813233),
        (90, 5, 90),
        (-90, 5, 90),
        (-90, 5, -90),
        (90, 5, -90),
    ]]
    fillet(fillet1_edges, radius=FILLET1_R)

    # Fillet2
    fillet2_edges = [part.edges().sort_by_distance(p)[0] for p in [
        (0, 10, -70),
        (0, 90, -70),
        (15.375488216, 30, 68.290514437),
        (0, 30, 100),
        (-40, 50, 57.445626465),
        (-40, 50, 100),
        (40, 50, 100),
        (0, 70, 100),
        (-37.071067812, 67.071067812, 100),
        (37.071067812, 67.071067812, 100),
        (37.071067812, 32.928932188, 100),
        (-37.071067812, 32.928932188, 100),
        (40, 50, 57.445626465),
        (15.375488216, 70, 68.290514437),
        (90, 10, 0),
        (0, 10, 90),
        (0, 10, -90),
        (-90, 10, 0),
        (-87.071067812, 10, 87.071067812),
        (-87.071067812, 10, -87.071067812),
        (87.071067812, 10, -87.071067812),
        (87.071067812, 10, 87.071067812),
        (-36.872641972, 32.735924536, 59.501330019),
        (36.872641972, 32.735924536, 59.501330019),
        (36.872641972, 67.264075464, 59.501330019),
        (-36.872641975, 67.264075467, 59.501330017),
    ]]
    fillet(fillet2_edges, radius=FILLET2_R)

    # Sketch6 → 1/16 NPT Tapped Hole1 (revolve, cut)
    with BuildSketch(Plane(origin=(69.894586304, 47.911002141, -3.840156953), x_dir=(-0.054859385045466544, 0, -0.9984940900538337), z_dir=(0, 1, 0))):
        Polygon((0, 0), (0, 6.946685027), (3.0734, 5.1), (3.0734, 8), (3.364805487, 8), (3.6043362, 0), align=None)
    revolve(axis=Axis((76.235023776, 47.911002141, -4.188514048), (-0.9984940900538337, 0, 0.05485938504546654)), mode=Mode.SUBTRACT)

    # Sketch7 → Boss-Extrude4 (add)
    with BuildSketch(Plane(origin=(0, 87, 0), x_dir=(1, 0, 0), z_dir=(0, 1, 0))):
        with Locations(Location((0, 0, 0), (0, 0, 270))):
            Circle(SKETCH7_R)
    extrude(amount=BOSS_EXTRUDE4_DEPTH)


solid = part.part
